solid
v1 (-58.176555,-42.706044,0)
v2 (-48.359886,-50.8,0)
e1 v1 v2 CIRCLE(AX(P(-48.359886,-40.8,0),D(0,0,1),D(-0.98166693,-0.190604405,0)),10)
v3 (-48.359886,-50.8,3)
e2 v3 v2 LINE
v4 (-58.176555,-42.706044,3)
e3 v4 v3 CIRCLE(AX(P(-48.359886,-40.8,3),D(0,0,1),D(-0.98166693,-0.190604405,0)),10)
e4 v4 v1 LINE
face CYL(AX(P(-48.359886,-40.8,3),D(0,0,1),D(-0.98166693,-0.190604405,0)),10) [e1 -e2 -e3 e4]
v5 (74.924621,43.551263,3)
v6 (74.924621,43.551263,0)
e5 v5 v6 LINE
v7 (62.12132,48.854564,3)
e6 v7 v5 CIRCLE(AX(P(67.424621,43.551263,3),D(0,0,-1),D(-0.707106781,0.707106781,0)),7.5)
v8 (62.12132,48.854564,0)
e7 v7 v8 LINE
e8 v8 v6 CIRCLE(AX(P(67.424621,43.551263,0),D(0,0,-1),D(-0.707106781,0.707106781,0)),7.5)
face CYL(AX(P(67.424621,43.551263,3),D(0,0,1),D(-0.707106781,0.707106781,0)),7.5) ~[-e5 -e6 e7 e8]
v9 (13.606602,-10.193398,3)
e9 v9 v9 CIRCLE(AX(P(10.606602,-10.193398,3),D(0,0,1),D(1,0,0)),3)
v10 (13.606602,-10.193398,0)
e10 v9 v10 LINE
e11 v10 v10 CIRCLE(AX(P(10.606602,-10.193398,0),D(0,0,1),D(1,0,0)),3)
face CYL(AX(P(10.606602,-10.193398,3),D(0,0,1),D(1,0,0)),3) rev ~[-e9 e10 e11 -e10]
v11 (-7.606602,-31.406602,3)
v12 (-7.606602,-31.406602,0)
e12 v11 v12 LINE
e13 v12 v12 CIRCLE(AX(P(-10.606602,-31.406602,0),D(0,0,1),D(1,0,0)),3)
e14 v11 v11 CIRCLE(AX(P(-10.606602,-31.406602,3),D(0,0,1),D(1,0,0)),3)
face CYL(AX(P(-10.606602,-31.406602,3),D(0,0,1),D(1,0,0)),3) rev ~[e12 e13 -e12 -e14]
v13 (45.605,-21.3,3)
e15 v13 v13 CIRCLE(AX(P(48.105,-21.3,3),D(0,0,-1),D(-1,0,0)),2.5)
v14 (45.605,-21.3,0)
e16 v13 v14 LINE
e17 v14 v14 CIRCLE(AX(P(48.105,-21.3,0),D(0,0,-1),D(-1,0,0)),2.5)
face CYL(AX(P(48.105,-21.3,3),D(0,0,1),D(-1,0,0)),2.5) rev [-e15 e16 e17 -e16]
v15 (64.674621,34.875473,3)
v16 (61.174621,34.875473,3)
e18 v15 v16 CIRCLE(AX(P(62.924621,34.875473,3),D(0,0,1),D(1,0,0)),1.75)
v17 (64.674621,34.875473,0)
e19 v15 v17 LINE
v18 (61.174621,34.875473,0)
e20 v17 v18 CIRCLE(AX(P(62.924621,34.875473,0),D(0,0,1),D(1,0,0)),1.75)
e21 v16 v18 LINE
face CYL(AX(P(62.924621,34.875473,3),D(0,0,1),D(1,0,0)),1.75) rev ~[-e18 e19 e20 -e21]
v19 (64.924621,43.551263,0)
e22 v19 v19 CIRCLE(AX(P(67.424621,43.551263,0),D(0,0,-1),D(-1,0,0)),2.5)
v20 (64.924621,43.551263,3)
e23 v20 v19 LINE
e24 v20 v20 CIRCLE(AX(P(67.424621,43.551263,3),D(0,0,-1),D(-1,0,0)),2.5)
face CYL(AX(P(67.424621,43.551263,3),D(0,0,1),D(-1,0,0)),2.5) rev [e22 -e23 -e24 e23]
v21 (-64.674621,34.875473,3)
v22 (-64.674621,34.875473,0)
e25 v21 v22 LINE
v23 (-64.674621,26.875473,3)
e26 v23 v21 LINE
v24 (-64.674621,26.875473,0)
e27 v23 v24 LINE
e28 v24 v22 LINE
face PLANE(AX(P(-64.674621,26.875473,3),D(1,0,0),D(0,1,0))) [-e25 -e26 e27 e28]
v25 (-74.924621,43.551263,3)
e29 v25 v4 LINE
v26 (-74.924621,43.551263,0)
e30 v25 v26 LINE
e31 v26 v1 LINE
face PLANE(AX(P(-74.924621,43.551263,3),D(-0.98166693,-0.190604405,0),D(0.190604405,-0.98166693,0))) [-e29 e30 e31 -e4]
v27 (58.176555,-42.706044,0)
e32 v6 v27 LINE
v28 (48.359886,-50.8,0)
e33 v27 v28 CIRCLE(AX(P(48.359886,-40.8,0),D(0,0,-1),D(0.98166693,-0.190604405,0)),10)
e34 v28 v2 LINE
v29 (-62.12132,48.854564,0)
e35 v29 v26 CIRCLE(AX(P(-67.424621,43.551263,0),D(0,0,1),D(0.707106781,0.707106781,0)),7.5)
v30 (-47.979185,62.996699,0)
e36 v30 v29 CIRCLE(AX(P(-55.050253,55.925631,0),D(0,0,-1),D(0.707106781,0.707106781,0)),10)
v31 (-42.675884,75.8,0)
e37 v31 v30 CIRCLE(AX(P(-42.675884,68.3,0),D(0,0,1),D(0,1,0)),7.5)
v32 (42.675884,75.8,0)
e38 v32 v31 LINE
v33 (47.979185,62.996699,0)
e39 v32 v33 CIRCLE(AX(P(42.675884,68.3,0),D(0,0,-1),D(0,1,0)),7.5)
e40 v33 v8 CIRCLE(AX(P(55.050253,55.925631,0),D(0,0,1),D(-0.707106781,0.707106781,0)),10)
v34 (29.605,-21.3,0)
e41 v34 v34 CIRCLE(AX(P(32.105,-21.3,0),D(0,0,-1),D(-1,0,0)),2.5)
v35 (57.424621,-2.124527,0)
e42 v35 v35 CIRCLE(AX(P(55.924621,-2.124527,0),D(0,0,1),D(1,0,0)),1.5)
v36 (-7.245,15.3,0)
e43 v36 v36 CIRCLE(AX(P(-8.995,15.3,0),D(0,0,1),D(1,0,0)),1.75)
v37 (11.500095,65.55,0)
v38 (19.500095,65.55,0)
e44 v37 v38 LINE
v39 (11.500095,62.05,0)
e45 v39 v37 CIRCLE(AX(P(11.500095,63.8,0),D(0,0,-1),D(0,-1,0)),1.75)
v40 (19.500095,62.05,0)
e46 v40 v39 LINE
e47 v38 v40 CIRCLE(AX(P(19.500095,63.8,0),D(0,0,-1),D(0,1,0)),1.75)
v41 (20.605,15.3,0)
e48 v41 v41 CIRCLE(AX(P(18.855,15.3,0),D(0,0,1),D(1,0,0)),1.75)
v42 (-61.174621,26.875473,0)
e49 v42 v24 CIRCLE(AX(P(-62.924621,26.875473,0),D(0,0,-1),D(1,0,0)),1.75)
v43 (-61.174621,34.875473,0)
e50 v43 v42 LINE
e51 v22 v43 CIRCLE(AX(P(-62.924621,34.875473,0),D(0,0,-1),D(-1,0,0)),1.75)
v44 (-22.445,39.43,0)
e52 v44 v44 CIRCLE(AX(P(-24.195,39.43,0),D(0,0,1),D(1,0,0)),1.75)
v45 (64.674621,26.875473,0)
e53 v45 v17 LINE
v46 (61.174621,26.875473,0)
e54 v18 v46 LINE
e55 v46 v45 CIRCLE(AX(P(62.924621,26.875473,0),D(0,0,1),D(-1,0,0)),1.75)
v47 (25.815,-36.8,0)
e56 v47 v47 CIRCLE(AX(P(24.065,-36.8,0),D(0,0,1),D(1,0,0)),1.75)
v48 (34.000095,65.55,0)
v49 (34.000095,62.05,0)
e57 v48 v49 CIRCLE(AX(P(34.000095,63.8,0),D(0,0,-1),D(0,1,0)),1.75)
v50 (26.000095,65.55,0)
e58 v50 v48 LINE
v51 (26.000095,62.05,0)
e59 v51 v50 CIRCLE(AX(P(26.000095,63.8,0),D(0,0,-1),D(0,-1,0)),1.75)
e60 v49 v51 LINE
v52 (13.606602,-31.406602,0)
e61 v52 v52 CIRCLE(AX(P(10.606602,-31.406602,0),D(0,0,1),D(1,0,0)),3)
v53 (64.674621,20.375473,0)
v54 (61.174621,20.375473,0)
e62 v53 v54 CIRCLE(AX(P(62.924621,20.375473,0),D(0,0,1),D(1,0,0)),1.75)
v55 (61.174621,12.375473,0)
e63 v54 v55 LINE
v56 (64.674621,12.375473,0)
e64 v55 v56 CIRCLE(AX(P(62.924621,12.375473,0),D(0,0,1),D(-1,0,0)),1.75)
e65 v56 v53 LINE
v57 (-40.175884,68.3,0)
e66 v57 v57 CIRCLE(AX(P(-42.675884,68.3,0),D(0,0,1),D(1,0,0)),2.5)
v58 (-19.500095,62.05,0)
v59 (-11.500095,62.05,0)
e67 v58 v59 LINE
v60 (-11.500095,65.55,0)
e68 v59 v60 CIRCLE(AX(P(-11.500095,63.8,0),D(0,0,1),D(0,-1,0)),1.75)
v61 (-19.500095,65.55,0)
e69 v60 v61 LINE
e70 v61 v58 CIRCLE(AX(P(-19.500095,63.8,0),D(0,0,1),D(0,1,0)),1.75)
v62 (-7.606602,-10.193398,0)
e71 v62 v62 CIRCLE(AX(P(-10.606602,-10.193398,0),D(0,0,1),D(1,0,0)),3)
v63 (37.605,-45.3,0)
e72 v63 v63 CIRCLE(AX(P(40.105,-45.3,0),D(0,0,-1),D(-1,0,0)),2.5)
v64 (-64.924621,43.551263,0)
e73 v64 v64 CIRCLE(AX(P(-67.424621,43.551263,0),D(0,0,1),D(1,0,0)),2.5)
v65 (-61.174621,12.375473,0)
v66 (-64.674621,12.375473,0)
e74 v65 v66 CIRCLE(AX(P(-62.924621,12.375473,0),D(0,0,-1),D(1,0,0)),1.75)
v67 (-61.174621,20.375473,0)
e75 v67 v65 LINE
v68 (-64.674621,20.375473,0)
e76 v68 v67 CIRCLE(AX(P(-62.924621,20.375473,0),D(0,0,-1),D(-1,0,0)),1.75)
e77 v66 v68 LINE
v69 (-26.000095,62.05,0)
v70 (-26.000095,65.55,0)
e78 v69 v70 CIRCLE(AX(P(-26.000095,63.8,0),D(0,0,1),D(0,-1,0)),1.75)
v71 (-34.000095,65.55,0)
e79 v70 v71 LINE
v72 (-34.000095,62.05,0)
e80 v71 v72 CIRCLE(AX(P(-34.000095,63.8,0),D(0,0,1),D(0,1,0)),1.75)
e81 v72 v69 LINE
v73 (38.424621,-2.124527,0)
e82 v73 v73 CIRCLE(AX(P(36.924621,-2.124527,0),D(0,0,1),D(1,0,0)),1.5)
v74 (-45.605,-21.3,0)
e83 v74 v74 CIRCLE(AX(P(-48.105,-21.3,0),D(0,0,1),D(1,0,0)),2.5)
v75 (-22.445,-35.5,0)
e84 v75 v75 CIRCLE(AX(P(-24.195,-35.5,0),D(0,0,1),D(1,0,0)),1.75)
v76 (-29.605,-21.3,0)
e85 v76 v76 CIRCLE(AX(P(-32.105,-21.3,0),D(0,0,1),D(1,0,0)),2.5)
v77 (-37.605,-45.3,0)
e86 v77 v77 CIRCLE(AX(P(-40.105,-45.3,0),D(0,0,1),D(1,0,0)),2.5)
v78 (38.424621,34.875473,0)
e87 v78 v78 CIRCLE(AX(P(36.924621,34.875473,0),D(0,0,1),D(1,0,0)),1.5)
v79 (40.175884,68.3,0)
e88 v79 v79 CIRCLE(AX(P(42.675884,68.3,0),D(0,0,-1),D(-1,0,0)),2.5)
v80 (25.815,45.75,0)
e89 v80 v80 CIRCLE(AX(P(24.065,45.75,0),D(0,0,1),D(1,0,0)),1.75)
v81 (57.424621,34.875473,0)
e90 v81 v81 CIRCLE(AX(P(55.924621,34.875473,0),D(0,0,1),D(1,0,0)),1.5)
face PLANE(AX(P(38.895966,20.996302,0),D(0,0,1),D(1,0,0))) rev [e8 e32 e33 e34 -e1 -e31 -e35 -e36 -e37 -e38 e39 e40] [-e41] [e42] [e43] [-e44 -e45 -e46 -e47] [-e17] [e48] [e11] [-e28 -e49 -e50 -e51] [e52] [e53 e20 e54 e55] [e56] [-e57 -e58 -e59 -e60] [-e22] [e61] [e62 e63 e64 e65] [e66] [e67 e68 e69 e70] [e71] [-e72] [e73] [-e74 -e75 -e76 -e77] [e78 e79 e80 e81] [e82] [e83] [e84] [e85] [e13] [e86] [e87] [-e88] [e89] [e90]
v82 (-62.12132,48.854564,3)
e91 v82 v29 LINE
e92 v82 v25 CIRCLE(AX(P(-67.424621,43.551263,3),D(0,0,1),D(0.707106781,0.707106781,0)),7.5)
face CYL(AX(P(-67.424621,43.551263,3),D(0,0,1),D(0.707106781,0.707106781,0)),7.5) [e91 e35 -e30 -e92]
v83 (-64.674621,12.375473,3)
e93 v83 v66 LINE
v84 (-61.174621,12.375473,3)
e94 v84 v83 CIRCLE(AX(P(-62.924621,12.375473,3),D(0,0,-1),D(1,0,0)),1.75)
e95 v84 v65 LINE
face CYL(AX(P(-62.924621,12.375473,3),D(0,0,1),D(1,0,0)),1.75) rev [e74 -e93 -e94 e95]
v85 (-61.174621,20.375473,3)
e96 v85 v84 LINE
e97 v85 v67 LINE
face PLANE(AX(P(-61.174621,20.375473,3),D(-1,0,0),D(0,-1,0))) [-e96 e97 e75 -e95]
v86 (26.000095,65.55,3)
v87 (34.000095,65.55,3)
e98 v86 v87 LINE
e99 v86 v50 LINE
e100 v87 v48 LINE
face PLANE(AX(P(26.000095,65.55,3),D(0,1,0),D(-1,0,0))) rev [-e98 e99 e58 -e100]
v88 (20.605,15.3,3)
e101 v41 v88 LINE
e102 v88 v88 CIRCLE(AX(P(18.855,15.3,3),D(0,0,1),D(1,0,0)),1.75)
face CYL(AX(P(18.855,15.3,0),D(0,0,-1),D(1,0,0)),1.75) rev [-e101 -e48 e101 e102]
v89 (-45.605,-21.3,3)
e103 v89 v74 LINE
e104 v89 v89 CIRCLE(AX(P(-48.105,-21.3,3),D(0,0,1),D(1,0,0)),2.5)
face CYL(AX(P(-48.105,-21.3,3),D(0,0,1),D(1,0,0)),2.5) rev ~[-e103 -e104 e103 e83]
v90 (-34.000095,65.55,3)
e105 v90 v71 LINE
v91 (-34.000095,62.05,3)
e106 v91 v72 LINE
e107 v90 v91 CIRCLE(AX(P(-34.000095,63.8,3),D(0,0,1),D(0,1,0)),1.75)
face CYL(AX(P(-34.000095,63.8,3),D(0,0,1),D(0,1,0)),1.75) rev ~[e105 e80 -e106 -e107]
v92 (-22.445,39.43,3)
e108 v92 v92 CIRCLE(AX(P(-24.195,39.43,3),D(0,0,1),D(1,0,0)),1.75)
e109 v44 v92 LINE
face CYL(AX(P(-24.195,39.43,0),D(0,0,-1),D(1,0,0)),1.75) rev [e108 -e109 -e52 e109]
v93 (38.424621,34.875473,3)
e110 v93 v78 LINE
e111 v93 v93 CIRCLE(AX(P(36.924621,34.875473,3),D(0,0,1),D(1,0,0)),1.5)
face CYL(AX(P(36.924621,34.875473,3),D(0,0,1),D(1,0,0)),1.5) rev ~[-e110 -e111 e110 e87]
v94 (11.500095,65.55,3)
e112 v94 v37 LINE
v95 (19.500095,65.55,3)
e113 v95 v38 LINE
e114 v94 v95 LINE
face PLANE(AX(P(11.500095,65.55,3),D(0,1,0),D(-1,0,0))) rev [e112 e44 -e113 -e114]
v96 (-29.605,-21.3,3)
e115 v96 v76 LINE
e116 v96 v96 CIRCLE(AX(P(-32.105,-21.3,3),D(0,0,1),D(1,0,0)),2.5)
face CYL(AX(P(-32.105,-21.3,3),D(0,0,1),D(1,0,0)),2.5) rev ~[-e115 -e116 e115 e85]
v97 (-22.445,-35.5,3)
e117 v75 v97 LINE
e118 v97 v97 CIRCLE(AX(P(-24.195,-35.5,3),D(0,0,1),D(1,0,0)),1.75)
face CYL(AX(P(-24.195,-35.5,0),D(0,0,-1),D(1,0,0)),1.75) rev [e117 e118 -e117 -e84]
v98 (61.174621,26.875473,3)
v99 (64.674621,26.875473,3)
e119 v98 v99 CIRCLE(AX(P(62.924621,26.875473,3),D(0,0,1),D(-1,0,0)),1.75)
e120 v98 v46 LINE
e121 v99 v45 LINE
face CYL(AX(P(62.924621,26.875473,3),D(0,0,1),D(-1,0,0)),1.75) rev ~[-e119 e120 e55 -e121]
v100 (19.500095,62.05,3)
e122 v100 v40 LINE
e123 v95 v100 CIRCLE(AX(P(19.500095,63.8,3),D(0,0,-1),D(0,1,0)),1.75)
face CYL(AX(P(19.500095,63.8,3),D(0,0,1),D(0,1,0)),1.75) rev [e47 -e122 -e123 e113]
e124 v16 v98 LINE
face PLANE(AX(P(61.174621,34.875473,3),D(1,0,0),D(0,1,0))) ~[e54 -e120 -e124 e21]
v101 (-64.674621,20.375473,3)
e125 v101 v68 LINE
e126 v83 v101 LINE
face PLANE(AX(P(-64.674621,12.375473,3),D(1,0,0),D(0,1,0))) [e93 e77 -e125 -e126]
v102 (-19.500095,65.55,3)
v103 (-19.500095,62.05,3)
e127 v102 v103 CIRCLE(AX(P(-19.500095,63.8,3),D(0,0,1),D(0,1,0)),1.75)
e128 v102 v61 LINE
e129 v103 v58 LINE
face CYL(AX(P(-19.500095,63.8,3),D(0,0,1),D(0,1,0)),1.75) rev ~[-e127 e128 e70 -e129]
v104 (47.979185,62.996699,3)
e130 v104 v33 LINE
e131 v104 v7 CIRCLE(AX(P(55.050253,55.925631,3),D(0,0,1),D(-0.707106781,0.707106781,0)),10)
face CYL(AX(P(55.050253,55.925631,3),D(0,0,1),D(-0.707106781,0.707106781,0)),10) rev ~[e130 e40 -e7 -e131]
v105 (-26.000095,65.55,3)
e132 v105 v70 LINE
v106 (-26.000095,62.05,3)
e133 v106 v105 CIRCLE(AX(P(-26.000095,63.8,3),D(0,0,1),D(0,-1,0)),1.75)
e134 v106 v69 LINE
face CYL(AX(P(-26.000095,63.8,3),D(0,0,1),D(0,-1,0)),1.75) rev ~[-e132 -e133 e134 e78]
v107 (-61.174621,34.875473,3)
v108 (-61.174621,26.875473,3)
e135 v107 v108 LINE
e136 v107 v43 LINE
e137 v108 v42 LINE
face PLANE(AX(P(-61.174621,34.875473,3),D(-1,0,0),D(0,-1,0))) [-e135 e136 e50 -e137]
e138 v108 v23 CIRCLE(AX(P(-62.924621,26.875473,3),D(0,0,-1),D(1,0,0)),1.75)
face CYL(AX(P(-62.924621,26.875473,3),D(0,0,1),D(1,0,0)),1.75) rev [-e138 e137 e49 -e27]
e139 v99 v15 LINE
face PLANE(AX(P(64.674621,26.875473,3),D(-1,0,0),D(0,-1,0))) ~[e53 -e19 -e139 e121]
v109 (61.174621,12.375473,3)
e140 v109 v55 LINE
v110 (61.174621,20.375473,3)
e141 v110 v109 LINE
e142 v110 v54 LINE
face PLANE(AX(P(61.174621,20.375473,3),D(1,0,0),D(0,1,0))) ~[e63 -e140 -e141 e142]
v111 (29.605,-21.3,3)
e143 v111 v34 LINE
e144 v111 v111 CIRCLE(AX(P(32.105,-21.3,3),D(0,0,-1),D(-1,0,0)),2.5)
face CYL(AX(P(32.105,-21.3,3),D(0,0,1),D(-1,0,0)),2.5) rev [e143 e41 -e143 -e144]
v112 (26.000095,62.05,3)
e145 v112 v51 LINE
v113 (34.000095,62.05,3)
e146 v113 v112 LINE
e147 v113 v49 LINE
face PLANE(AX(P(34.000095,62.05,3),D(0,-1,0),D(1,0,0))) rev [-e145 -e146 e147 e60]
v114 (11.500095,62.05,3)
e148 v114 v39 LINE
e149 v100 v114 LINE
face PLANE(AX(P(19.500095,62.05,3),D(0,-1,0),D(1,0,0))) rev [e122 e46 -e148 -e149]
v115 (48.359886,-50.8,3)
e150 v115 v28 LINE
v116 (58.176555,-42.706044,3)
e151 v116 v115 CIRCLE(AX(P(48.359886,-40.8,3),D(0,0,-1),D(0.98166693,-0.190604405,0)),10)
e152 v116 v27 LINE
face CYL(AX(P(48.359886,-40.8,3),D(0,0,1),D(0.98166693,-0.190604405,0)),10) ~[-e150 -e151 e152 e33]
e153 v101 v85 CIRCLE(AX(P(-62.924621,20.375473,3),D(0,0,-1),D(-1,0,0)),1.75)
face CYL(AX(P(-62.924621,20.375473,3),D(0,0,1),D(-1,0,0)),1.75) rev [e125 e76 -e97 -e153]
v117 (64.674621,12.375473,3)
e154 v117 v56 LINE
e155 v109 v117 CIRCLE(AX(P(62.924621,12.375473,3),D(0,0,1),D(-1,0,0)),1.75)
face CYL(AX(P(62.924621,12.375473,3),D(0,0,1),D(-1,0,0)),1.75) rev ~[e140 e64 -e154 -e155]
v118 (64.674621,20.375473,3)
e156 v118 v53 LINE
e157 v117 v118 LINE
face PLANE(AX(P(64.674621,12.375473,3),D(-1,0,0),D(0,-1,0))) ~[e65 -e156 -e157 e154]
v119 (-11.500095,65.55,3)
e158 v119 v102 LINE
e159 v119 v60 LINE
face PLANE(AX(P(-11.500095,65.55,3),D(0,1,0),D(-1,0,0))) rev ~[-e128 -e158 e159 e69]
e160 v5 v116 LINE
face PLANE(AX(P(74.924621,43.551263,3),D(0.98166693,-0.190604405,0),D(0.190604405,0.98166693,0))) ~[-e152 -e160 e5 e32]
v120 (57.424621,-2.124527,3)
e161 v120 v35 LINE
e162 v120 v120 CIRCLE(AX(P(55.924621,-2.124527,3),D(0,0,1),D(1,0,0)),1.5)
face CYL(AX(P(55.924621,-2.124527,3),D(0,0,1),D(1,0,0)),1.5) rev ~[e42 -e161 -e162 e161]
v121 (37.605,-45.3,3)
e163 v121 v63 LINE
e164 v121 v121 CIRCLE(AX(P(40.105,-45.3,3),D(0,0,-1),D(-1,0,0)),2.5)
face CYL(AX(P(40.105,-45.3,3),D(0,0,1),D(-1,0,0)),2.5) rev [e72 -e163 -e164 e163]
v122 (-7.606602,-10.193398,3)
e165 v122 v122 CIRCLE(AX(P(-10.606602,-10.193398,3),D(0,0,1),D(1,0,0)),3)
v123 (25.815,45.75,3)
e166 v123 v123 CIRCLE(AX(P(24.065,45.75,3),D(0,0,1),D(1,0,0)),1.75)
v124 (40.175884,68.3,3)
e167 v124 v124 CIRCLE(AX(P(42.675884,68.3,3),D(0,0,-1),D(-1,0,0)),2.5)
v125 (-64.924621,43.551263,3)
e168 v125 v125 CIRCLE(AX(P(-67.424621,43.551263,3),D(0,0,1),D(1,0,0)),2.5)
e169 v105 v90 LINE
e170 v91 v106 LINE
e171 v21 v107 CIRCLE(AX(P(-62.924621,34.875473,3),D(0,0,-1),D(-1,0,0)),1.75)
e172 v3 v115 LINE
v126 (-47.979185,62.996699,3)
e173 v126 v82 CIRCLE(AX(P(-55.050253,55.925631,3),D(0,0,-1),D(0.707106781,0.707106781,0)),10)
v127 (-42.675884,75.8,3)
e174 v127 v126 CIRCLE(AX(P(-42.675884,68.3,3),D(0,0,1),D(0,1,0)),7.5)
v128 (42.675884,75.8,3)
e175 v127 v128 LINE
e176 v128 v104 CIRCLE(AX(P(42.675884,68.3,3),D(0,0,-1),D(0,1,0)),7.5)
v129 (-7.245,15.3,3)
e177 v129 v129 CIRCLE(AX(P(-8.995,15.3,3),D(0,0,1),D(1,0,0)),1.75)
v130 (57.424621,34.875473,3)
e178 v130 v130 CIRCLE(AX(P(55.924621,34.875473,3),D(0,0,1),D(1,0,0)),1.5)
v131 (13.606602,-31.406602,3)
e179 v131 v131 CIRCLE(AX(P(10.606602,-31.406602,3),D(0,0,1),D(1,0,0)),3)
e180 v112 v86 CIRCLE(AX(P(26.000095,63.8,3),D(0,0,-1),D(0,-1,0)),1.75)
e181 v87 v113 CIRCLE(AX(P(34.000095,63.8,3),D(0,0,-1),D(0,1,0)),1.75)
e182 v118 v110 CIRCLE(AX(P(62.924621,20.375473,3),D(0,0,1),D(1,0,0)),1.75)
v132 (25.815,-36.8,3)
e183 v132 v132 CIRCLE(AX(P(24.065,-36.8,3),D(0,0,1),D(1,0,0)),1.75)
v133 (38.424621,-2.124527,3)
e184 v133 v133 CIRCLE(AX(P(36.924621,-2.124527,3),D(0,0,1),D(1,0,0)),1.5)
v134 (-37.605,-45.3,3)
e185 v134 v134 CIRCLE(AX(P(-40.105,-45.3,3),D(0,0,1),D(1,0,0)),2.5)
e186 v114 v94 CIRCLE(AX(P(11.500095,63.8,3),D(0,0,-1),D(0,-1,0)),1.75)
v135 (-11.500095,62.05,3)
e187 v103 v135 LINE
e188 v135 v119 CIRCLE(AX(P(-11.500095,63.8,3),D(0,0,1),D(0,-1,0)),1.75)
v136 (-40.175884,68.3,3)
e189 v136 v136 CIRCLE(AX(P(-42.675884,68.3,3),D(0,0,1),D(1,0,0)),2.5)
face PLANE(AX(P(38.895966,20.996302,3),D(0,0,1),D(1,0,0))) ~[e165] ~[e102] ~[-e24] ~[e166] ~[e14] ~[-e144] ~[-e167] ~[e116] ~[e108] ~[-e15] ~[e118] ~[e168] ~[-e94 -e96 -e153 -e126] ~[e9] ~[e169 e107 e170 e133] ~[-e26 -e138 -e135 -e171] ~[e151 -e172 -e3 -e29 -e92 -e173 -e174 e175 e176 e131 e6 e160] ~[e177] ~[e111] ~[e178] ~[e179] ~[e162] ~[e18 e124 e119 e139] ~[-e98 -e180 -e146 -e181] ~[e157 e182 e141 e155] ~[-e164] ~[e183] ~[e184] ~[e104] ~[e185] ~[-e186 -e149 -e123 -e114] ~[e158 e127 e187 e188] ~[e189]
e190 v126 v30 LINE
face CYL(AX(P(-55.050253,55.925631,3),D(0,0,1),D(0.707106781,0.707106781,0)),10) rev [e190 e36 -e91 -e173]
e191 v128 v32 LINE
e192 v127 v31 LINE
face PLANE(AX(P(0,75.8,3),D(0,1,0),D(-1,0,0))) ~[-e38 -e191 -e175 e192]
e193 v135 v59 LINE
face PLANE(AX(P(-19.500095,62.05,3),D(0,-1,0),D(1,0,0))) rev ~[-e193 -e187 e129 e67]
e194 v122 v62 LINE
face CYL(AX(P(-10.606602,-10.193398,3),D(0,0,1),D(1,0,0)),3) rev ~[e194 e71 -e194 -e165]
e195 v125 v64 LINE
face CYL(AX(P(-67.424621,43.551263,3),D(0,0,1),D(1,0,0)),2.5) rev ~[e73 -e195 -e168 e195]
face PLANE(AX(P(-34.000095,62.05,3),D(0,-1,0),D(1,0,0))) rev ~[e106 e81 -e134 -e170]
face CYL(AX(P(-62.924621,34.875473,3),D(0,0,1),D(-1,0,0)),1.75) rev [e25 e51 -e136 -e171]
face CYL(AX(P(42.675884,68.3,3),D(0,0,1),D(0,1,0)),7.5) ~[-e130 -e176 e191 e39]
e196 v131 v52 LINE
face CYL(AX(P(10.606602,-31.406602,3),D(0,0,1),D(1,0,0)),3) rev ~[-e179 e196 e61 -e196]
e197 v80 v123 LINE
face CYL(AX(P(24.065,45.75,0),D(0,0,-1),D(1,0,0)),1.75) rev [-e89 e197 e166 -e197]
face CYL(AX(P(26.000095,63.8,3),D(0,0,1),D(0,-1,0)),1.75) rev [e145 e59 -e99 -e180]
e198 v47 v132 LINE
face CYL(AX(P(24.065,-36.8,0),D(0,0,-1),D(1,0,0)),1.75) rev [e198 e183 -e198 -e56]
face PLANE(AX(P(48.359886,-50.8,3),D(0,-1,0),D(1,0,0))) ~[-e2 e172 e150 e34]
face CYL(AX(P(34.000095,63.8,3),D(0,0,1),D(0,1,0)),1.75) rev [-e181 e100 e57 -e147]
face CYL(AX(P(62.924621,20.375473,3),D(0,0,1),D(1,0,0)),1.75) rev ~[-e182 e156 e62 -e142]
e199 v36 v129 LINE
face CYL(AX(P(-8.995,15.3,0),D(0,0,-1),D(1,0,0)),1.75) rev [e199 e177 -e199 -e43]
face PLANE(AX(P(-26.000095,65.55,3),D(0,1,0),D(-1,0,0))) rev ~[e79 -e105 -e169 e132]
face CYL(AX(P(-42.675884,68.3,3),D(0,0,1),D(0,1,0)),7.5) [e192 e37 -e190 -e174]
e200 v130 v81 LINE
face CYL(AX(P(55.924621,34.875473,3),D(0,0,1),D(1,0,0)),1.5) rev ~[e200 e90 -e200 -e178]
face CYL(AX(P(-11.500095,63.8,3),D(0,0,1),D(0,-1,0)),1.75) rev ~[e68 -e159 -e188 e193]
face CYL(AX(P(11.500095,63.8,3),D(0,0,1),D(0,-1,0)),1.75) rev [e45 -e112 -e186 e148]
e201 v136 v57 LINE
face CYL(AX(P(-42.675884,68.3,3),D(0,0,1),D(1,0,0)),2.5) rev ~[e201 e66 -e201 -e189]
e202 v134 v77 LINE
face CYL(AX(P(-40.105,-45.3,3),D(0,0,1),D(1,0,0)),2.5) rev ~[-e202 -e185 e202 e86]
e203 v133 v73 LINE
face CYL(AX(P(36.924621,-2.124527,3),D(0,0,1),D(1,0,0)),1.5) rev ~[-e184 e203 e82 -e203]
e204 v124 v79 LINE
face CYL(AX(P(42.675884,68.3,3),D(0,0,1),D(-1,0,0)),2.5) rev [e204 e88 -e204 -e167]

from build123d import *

# Parameters (mm, degrees)
ESQUISSE1_W             = 53.21
ESQUISSE1_H             = 101.6
ESQUISSE1_R             = 1.75
BOSS_EXTRU_1_DEPTH      = 3
ESQUISSE2_R             = 2.5
BOSS_EXTRU_2_DEPTH      = 3
ESQUISSE3_R             = 1.5
ENL_V_MAT_EXTRU_1_DEPTH = 3
ESQUISSE4_R             = 3
ENL_V_MAT_EXTRU_2_DEPTH = 4


with BuildPart() as part:
    # Esquisse1 → Boss.-Extru.1 (new body)
    with BuildSketch(Plane.XY):
        Rectangle(ESQUISSE1_W, ESQUISSE1_H)
        with Locations((-24.195, -35.5)):
            Circle(ESQUISSE1_R, mode=Mode.SUBTRACT)
        with Locations((24.065, -36.8)):
            Circle(ESQUISSE1_R, mode=Mode.SUBTRACT)
        with Locations((-8.995, 15.3)):
            Circle(ESQUISSE1_R, mode=Mode.SUBTRACT)
        with Locations((18.855, 15.3)):
            Circle(ESQUISSE1_R, mode=Mode.SUBTRACT)
        with Locations((-24.195, 39.43)):
            Circle(ESQUISSE1_R, mode=Mode.SUBTRACT)
        with Locations((24.065, 45.75)):
            Circle(ESQUISSE1_R, mode=Mode.SUBTRACT)
    extrude(amount=BOSS_EXTRU_1_DEPTH)

    # Esquisse2 → Boss.-Extru.2 (add)
    with BuildSketch(Plane.XY.offset(3)):
        with BuildLine():
            Line((0, 50.8), (0, 75.8))
            Line((0, 75.8), (-42.675883861, 75.8))
            ThreePointArc((-42.675883861, 75.8), (-49.604980355, 71.170125743), (-47.97918472, 62.996699141))
            ThreePointArc((-47.97918472, 62.996699141), (-47.97918472, 48.854563517), (-62.121320344, 48.854563517))
            ThreePointArc((-62.121320344, 48.854563517), (-70.294746945, 50.480359152), (-74.924621202, 43.551262658))
            Line((-74.924621202, 43.551262658), (-58.176555089, -42.706044052))
            ThreePointArc((-58.176555089, -42.706044052), (-54.721472053, -48.51558295), (-48.359885793, -50.8))
            Line((-48.359885793, -50.8), (-26.605, -50.8))
            Line((-26.605, -50.8), (-26.605, 50.8))
            Line((-26.605, 50.8), (0, 50.8))
        make_face()
        with Locations((-40.105, -45.3)):
            Circle(ESQUISSE2_R, mode=Mode.SUBTRACT)
        with Locations((-32.105, -21.3)):
            Circle(ESQUISSE2_R, mode=Mode.SUBTRACT)
        with Locations((-48.105, -21.3)):
            Circle(ESQUISSE2_R, mode=Mode.SUBTRACT)
        with Locations((-67.424621202, 43.551262658)):
            Circle(ESQUISSE2_R, mode=Mode.SUBTRACT)
        with Locations((-42.675883861, 68.3)):
            Circle(ESQUISSE2_R, mode=Mode.SUBTRACT)
        with BuildLine():
            Line((-61.174621202, 34.875473497), (-61.174621202, 26.875473497))
            ThreePointArc((-61.174621202, 26.875473497), (-62.924621202, 25.125473497), (-64.674621202, 26.875473497))
            Line((-64.674621202, 26.875473497), (-64.674621202, 34.875473497))
            ThreePointArc((-64.674621202, 34.875473497), (-62.924621202, 36.625473497), (-61.174621202, 34.875473497))
        make_face(mode=Mode.SUBTRACT)
        with BuildLine():
            Line((-61.174621202, 20.375473497), (-61.174621202, 12.375473497))
            ThreePointArc((-61.174621202, 12.375473497), (-62.924621202, 10.625473497), (-64.674621202, 12.375473497))
            Line((-64.674621202, 12.375473497), (-64.674621202, 20.375473497))
            ThreePointArc((-64.674621202, 20.375473497), (-62.924621202, 22.125473497), (-61.174621202, 20.375473497))
        make_face(mode=Mode.SUBTRACT)
        with BuildLine():
            Line((-34.0000947, 62.05), (-26.0000947, 62.05))
            ThreePointArc((-26.0000947, 62.05), (-24.2500947, 63.8), (-26.0000947, 65.55))
            Line((-26.0000947, 65.55), (-34.0000947, 65.55))
            ThreePointArc((-34.0000947, 65.55), (-35.7500947, 63.8), (-34.0000947, 62.05))
        make_face(mode=Mode.SUBTRACT)
        with BuildLine():
            Line((-19.5000947, 62.05), (-11.5000947, 62.05))
            ThreePointArc((-11.5000947, 62.05), (-9.7500947, 63.8), (-11.5000947, 65.55))
            Line((-11.5000947, 65.55), (-19.5000947, 65.55))
            ThreePointArc((-19.5000947, 65.55), (-21.2500947, 63.8), (-19.5000947, 62.05))
        make_face(mode=Mode.SUBTRACT)
    boss_extru_2 = extrude(amount=-BOSS_EXTRU_2_DEPTH)

    # Symétrie1: Boss.-Extru.2 across plane
    add(boss_extru_2.mirror(Plane(origin=(0, 50.8, 0), x_dir=(0, 0, 1), z_dir=(1, 0, 0))))

    # Esquisse3 → Enlèv. mat.-Extru.1 (cut)
    with BuildSketch(Plane.XY.offset(3)):
        with Locations((36.924621202, 34.875473497)):
            Circle(ESQUISSE3_R)
        with Locations((55.924621202, 34.875473497)):
            Circle(ESQUISSE3_R)
        with Locations((36.924621202, -2.124526503)):
            Circle(ESQUISSE3_R)
        with Locations((55.924621202, -2.124526503)):
            Circle(ESQUISSE3_R)
    extrude(amount=-ENL_V_MAT_EXTRU_1_DEPTH, mode=Mode.SUBTRACT)

    # Esquisse4 → Enlèv. mat.-Extru.2 (cut, through all)
    with BuildSketch(Plane.XY.offset(3)):
        with Locations((-10.606601718, -10.193398282)):
            Circle(ESQUISSE4_R)
        with Locations((10.606601718, -10.193398282)):
            Circle(ESQUISSE4_R)
        with Locations((-10.606601718, -31.406601718)):
            Circle(ESQUISSE4_R)
        with Locations((10.606601718, -31.406601718)):
            Circle(ESQUISSE4_R)
    extrude(amount=-ENL_V_MAT_EXTRU_2_DEPTH, mode=Mode.SUBTRACT)


solid = part.part
